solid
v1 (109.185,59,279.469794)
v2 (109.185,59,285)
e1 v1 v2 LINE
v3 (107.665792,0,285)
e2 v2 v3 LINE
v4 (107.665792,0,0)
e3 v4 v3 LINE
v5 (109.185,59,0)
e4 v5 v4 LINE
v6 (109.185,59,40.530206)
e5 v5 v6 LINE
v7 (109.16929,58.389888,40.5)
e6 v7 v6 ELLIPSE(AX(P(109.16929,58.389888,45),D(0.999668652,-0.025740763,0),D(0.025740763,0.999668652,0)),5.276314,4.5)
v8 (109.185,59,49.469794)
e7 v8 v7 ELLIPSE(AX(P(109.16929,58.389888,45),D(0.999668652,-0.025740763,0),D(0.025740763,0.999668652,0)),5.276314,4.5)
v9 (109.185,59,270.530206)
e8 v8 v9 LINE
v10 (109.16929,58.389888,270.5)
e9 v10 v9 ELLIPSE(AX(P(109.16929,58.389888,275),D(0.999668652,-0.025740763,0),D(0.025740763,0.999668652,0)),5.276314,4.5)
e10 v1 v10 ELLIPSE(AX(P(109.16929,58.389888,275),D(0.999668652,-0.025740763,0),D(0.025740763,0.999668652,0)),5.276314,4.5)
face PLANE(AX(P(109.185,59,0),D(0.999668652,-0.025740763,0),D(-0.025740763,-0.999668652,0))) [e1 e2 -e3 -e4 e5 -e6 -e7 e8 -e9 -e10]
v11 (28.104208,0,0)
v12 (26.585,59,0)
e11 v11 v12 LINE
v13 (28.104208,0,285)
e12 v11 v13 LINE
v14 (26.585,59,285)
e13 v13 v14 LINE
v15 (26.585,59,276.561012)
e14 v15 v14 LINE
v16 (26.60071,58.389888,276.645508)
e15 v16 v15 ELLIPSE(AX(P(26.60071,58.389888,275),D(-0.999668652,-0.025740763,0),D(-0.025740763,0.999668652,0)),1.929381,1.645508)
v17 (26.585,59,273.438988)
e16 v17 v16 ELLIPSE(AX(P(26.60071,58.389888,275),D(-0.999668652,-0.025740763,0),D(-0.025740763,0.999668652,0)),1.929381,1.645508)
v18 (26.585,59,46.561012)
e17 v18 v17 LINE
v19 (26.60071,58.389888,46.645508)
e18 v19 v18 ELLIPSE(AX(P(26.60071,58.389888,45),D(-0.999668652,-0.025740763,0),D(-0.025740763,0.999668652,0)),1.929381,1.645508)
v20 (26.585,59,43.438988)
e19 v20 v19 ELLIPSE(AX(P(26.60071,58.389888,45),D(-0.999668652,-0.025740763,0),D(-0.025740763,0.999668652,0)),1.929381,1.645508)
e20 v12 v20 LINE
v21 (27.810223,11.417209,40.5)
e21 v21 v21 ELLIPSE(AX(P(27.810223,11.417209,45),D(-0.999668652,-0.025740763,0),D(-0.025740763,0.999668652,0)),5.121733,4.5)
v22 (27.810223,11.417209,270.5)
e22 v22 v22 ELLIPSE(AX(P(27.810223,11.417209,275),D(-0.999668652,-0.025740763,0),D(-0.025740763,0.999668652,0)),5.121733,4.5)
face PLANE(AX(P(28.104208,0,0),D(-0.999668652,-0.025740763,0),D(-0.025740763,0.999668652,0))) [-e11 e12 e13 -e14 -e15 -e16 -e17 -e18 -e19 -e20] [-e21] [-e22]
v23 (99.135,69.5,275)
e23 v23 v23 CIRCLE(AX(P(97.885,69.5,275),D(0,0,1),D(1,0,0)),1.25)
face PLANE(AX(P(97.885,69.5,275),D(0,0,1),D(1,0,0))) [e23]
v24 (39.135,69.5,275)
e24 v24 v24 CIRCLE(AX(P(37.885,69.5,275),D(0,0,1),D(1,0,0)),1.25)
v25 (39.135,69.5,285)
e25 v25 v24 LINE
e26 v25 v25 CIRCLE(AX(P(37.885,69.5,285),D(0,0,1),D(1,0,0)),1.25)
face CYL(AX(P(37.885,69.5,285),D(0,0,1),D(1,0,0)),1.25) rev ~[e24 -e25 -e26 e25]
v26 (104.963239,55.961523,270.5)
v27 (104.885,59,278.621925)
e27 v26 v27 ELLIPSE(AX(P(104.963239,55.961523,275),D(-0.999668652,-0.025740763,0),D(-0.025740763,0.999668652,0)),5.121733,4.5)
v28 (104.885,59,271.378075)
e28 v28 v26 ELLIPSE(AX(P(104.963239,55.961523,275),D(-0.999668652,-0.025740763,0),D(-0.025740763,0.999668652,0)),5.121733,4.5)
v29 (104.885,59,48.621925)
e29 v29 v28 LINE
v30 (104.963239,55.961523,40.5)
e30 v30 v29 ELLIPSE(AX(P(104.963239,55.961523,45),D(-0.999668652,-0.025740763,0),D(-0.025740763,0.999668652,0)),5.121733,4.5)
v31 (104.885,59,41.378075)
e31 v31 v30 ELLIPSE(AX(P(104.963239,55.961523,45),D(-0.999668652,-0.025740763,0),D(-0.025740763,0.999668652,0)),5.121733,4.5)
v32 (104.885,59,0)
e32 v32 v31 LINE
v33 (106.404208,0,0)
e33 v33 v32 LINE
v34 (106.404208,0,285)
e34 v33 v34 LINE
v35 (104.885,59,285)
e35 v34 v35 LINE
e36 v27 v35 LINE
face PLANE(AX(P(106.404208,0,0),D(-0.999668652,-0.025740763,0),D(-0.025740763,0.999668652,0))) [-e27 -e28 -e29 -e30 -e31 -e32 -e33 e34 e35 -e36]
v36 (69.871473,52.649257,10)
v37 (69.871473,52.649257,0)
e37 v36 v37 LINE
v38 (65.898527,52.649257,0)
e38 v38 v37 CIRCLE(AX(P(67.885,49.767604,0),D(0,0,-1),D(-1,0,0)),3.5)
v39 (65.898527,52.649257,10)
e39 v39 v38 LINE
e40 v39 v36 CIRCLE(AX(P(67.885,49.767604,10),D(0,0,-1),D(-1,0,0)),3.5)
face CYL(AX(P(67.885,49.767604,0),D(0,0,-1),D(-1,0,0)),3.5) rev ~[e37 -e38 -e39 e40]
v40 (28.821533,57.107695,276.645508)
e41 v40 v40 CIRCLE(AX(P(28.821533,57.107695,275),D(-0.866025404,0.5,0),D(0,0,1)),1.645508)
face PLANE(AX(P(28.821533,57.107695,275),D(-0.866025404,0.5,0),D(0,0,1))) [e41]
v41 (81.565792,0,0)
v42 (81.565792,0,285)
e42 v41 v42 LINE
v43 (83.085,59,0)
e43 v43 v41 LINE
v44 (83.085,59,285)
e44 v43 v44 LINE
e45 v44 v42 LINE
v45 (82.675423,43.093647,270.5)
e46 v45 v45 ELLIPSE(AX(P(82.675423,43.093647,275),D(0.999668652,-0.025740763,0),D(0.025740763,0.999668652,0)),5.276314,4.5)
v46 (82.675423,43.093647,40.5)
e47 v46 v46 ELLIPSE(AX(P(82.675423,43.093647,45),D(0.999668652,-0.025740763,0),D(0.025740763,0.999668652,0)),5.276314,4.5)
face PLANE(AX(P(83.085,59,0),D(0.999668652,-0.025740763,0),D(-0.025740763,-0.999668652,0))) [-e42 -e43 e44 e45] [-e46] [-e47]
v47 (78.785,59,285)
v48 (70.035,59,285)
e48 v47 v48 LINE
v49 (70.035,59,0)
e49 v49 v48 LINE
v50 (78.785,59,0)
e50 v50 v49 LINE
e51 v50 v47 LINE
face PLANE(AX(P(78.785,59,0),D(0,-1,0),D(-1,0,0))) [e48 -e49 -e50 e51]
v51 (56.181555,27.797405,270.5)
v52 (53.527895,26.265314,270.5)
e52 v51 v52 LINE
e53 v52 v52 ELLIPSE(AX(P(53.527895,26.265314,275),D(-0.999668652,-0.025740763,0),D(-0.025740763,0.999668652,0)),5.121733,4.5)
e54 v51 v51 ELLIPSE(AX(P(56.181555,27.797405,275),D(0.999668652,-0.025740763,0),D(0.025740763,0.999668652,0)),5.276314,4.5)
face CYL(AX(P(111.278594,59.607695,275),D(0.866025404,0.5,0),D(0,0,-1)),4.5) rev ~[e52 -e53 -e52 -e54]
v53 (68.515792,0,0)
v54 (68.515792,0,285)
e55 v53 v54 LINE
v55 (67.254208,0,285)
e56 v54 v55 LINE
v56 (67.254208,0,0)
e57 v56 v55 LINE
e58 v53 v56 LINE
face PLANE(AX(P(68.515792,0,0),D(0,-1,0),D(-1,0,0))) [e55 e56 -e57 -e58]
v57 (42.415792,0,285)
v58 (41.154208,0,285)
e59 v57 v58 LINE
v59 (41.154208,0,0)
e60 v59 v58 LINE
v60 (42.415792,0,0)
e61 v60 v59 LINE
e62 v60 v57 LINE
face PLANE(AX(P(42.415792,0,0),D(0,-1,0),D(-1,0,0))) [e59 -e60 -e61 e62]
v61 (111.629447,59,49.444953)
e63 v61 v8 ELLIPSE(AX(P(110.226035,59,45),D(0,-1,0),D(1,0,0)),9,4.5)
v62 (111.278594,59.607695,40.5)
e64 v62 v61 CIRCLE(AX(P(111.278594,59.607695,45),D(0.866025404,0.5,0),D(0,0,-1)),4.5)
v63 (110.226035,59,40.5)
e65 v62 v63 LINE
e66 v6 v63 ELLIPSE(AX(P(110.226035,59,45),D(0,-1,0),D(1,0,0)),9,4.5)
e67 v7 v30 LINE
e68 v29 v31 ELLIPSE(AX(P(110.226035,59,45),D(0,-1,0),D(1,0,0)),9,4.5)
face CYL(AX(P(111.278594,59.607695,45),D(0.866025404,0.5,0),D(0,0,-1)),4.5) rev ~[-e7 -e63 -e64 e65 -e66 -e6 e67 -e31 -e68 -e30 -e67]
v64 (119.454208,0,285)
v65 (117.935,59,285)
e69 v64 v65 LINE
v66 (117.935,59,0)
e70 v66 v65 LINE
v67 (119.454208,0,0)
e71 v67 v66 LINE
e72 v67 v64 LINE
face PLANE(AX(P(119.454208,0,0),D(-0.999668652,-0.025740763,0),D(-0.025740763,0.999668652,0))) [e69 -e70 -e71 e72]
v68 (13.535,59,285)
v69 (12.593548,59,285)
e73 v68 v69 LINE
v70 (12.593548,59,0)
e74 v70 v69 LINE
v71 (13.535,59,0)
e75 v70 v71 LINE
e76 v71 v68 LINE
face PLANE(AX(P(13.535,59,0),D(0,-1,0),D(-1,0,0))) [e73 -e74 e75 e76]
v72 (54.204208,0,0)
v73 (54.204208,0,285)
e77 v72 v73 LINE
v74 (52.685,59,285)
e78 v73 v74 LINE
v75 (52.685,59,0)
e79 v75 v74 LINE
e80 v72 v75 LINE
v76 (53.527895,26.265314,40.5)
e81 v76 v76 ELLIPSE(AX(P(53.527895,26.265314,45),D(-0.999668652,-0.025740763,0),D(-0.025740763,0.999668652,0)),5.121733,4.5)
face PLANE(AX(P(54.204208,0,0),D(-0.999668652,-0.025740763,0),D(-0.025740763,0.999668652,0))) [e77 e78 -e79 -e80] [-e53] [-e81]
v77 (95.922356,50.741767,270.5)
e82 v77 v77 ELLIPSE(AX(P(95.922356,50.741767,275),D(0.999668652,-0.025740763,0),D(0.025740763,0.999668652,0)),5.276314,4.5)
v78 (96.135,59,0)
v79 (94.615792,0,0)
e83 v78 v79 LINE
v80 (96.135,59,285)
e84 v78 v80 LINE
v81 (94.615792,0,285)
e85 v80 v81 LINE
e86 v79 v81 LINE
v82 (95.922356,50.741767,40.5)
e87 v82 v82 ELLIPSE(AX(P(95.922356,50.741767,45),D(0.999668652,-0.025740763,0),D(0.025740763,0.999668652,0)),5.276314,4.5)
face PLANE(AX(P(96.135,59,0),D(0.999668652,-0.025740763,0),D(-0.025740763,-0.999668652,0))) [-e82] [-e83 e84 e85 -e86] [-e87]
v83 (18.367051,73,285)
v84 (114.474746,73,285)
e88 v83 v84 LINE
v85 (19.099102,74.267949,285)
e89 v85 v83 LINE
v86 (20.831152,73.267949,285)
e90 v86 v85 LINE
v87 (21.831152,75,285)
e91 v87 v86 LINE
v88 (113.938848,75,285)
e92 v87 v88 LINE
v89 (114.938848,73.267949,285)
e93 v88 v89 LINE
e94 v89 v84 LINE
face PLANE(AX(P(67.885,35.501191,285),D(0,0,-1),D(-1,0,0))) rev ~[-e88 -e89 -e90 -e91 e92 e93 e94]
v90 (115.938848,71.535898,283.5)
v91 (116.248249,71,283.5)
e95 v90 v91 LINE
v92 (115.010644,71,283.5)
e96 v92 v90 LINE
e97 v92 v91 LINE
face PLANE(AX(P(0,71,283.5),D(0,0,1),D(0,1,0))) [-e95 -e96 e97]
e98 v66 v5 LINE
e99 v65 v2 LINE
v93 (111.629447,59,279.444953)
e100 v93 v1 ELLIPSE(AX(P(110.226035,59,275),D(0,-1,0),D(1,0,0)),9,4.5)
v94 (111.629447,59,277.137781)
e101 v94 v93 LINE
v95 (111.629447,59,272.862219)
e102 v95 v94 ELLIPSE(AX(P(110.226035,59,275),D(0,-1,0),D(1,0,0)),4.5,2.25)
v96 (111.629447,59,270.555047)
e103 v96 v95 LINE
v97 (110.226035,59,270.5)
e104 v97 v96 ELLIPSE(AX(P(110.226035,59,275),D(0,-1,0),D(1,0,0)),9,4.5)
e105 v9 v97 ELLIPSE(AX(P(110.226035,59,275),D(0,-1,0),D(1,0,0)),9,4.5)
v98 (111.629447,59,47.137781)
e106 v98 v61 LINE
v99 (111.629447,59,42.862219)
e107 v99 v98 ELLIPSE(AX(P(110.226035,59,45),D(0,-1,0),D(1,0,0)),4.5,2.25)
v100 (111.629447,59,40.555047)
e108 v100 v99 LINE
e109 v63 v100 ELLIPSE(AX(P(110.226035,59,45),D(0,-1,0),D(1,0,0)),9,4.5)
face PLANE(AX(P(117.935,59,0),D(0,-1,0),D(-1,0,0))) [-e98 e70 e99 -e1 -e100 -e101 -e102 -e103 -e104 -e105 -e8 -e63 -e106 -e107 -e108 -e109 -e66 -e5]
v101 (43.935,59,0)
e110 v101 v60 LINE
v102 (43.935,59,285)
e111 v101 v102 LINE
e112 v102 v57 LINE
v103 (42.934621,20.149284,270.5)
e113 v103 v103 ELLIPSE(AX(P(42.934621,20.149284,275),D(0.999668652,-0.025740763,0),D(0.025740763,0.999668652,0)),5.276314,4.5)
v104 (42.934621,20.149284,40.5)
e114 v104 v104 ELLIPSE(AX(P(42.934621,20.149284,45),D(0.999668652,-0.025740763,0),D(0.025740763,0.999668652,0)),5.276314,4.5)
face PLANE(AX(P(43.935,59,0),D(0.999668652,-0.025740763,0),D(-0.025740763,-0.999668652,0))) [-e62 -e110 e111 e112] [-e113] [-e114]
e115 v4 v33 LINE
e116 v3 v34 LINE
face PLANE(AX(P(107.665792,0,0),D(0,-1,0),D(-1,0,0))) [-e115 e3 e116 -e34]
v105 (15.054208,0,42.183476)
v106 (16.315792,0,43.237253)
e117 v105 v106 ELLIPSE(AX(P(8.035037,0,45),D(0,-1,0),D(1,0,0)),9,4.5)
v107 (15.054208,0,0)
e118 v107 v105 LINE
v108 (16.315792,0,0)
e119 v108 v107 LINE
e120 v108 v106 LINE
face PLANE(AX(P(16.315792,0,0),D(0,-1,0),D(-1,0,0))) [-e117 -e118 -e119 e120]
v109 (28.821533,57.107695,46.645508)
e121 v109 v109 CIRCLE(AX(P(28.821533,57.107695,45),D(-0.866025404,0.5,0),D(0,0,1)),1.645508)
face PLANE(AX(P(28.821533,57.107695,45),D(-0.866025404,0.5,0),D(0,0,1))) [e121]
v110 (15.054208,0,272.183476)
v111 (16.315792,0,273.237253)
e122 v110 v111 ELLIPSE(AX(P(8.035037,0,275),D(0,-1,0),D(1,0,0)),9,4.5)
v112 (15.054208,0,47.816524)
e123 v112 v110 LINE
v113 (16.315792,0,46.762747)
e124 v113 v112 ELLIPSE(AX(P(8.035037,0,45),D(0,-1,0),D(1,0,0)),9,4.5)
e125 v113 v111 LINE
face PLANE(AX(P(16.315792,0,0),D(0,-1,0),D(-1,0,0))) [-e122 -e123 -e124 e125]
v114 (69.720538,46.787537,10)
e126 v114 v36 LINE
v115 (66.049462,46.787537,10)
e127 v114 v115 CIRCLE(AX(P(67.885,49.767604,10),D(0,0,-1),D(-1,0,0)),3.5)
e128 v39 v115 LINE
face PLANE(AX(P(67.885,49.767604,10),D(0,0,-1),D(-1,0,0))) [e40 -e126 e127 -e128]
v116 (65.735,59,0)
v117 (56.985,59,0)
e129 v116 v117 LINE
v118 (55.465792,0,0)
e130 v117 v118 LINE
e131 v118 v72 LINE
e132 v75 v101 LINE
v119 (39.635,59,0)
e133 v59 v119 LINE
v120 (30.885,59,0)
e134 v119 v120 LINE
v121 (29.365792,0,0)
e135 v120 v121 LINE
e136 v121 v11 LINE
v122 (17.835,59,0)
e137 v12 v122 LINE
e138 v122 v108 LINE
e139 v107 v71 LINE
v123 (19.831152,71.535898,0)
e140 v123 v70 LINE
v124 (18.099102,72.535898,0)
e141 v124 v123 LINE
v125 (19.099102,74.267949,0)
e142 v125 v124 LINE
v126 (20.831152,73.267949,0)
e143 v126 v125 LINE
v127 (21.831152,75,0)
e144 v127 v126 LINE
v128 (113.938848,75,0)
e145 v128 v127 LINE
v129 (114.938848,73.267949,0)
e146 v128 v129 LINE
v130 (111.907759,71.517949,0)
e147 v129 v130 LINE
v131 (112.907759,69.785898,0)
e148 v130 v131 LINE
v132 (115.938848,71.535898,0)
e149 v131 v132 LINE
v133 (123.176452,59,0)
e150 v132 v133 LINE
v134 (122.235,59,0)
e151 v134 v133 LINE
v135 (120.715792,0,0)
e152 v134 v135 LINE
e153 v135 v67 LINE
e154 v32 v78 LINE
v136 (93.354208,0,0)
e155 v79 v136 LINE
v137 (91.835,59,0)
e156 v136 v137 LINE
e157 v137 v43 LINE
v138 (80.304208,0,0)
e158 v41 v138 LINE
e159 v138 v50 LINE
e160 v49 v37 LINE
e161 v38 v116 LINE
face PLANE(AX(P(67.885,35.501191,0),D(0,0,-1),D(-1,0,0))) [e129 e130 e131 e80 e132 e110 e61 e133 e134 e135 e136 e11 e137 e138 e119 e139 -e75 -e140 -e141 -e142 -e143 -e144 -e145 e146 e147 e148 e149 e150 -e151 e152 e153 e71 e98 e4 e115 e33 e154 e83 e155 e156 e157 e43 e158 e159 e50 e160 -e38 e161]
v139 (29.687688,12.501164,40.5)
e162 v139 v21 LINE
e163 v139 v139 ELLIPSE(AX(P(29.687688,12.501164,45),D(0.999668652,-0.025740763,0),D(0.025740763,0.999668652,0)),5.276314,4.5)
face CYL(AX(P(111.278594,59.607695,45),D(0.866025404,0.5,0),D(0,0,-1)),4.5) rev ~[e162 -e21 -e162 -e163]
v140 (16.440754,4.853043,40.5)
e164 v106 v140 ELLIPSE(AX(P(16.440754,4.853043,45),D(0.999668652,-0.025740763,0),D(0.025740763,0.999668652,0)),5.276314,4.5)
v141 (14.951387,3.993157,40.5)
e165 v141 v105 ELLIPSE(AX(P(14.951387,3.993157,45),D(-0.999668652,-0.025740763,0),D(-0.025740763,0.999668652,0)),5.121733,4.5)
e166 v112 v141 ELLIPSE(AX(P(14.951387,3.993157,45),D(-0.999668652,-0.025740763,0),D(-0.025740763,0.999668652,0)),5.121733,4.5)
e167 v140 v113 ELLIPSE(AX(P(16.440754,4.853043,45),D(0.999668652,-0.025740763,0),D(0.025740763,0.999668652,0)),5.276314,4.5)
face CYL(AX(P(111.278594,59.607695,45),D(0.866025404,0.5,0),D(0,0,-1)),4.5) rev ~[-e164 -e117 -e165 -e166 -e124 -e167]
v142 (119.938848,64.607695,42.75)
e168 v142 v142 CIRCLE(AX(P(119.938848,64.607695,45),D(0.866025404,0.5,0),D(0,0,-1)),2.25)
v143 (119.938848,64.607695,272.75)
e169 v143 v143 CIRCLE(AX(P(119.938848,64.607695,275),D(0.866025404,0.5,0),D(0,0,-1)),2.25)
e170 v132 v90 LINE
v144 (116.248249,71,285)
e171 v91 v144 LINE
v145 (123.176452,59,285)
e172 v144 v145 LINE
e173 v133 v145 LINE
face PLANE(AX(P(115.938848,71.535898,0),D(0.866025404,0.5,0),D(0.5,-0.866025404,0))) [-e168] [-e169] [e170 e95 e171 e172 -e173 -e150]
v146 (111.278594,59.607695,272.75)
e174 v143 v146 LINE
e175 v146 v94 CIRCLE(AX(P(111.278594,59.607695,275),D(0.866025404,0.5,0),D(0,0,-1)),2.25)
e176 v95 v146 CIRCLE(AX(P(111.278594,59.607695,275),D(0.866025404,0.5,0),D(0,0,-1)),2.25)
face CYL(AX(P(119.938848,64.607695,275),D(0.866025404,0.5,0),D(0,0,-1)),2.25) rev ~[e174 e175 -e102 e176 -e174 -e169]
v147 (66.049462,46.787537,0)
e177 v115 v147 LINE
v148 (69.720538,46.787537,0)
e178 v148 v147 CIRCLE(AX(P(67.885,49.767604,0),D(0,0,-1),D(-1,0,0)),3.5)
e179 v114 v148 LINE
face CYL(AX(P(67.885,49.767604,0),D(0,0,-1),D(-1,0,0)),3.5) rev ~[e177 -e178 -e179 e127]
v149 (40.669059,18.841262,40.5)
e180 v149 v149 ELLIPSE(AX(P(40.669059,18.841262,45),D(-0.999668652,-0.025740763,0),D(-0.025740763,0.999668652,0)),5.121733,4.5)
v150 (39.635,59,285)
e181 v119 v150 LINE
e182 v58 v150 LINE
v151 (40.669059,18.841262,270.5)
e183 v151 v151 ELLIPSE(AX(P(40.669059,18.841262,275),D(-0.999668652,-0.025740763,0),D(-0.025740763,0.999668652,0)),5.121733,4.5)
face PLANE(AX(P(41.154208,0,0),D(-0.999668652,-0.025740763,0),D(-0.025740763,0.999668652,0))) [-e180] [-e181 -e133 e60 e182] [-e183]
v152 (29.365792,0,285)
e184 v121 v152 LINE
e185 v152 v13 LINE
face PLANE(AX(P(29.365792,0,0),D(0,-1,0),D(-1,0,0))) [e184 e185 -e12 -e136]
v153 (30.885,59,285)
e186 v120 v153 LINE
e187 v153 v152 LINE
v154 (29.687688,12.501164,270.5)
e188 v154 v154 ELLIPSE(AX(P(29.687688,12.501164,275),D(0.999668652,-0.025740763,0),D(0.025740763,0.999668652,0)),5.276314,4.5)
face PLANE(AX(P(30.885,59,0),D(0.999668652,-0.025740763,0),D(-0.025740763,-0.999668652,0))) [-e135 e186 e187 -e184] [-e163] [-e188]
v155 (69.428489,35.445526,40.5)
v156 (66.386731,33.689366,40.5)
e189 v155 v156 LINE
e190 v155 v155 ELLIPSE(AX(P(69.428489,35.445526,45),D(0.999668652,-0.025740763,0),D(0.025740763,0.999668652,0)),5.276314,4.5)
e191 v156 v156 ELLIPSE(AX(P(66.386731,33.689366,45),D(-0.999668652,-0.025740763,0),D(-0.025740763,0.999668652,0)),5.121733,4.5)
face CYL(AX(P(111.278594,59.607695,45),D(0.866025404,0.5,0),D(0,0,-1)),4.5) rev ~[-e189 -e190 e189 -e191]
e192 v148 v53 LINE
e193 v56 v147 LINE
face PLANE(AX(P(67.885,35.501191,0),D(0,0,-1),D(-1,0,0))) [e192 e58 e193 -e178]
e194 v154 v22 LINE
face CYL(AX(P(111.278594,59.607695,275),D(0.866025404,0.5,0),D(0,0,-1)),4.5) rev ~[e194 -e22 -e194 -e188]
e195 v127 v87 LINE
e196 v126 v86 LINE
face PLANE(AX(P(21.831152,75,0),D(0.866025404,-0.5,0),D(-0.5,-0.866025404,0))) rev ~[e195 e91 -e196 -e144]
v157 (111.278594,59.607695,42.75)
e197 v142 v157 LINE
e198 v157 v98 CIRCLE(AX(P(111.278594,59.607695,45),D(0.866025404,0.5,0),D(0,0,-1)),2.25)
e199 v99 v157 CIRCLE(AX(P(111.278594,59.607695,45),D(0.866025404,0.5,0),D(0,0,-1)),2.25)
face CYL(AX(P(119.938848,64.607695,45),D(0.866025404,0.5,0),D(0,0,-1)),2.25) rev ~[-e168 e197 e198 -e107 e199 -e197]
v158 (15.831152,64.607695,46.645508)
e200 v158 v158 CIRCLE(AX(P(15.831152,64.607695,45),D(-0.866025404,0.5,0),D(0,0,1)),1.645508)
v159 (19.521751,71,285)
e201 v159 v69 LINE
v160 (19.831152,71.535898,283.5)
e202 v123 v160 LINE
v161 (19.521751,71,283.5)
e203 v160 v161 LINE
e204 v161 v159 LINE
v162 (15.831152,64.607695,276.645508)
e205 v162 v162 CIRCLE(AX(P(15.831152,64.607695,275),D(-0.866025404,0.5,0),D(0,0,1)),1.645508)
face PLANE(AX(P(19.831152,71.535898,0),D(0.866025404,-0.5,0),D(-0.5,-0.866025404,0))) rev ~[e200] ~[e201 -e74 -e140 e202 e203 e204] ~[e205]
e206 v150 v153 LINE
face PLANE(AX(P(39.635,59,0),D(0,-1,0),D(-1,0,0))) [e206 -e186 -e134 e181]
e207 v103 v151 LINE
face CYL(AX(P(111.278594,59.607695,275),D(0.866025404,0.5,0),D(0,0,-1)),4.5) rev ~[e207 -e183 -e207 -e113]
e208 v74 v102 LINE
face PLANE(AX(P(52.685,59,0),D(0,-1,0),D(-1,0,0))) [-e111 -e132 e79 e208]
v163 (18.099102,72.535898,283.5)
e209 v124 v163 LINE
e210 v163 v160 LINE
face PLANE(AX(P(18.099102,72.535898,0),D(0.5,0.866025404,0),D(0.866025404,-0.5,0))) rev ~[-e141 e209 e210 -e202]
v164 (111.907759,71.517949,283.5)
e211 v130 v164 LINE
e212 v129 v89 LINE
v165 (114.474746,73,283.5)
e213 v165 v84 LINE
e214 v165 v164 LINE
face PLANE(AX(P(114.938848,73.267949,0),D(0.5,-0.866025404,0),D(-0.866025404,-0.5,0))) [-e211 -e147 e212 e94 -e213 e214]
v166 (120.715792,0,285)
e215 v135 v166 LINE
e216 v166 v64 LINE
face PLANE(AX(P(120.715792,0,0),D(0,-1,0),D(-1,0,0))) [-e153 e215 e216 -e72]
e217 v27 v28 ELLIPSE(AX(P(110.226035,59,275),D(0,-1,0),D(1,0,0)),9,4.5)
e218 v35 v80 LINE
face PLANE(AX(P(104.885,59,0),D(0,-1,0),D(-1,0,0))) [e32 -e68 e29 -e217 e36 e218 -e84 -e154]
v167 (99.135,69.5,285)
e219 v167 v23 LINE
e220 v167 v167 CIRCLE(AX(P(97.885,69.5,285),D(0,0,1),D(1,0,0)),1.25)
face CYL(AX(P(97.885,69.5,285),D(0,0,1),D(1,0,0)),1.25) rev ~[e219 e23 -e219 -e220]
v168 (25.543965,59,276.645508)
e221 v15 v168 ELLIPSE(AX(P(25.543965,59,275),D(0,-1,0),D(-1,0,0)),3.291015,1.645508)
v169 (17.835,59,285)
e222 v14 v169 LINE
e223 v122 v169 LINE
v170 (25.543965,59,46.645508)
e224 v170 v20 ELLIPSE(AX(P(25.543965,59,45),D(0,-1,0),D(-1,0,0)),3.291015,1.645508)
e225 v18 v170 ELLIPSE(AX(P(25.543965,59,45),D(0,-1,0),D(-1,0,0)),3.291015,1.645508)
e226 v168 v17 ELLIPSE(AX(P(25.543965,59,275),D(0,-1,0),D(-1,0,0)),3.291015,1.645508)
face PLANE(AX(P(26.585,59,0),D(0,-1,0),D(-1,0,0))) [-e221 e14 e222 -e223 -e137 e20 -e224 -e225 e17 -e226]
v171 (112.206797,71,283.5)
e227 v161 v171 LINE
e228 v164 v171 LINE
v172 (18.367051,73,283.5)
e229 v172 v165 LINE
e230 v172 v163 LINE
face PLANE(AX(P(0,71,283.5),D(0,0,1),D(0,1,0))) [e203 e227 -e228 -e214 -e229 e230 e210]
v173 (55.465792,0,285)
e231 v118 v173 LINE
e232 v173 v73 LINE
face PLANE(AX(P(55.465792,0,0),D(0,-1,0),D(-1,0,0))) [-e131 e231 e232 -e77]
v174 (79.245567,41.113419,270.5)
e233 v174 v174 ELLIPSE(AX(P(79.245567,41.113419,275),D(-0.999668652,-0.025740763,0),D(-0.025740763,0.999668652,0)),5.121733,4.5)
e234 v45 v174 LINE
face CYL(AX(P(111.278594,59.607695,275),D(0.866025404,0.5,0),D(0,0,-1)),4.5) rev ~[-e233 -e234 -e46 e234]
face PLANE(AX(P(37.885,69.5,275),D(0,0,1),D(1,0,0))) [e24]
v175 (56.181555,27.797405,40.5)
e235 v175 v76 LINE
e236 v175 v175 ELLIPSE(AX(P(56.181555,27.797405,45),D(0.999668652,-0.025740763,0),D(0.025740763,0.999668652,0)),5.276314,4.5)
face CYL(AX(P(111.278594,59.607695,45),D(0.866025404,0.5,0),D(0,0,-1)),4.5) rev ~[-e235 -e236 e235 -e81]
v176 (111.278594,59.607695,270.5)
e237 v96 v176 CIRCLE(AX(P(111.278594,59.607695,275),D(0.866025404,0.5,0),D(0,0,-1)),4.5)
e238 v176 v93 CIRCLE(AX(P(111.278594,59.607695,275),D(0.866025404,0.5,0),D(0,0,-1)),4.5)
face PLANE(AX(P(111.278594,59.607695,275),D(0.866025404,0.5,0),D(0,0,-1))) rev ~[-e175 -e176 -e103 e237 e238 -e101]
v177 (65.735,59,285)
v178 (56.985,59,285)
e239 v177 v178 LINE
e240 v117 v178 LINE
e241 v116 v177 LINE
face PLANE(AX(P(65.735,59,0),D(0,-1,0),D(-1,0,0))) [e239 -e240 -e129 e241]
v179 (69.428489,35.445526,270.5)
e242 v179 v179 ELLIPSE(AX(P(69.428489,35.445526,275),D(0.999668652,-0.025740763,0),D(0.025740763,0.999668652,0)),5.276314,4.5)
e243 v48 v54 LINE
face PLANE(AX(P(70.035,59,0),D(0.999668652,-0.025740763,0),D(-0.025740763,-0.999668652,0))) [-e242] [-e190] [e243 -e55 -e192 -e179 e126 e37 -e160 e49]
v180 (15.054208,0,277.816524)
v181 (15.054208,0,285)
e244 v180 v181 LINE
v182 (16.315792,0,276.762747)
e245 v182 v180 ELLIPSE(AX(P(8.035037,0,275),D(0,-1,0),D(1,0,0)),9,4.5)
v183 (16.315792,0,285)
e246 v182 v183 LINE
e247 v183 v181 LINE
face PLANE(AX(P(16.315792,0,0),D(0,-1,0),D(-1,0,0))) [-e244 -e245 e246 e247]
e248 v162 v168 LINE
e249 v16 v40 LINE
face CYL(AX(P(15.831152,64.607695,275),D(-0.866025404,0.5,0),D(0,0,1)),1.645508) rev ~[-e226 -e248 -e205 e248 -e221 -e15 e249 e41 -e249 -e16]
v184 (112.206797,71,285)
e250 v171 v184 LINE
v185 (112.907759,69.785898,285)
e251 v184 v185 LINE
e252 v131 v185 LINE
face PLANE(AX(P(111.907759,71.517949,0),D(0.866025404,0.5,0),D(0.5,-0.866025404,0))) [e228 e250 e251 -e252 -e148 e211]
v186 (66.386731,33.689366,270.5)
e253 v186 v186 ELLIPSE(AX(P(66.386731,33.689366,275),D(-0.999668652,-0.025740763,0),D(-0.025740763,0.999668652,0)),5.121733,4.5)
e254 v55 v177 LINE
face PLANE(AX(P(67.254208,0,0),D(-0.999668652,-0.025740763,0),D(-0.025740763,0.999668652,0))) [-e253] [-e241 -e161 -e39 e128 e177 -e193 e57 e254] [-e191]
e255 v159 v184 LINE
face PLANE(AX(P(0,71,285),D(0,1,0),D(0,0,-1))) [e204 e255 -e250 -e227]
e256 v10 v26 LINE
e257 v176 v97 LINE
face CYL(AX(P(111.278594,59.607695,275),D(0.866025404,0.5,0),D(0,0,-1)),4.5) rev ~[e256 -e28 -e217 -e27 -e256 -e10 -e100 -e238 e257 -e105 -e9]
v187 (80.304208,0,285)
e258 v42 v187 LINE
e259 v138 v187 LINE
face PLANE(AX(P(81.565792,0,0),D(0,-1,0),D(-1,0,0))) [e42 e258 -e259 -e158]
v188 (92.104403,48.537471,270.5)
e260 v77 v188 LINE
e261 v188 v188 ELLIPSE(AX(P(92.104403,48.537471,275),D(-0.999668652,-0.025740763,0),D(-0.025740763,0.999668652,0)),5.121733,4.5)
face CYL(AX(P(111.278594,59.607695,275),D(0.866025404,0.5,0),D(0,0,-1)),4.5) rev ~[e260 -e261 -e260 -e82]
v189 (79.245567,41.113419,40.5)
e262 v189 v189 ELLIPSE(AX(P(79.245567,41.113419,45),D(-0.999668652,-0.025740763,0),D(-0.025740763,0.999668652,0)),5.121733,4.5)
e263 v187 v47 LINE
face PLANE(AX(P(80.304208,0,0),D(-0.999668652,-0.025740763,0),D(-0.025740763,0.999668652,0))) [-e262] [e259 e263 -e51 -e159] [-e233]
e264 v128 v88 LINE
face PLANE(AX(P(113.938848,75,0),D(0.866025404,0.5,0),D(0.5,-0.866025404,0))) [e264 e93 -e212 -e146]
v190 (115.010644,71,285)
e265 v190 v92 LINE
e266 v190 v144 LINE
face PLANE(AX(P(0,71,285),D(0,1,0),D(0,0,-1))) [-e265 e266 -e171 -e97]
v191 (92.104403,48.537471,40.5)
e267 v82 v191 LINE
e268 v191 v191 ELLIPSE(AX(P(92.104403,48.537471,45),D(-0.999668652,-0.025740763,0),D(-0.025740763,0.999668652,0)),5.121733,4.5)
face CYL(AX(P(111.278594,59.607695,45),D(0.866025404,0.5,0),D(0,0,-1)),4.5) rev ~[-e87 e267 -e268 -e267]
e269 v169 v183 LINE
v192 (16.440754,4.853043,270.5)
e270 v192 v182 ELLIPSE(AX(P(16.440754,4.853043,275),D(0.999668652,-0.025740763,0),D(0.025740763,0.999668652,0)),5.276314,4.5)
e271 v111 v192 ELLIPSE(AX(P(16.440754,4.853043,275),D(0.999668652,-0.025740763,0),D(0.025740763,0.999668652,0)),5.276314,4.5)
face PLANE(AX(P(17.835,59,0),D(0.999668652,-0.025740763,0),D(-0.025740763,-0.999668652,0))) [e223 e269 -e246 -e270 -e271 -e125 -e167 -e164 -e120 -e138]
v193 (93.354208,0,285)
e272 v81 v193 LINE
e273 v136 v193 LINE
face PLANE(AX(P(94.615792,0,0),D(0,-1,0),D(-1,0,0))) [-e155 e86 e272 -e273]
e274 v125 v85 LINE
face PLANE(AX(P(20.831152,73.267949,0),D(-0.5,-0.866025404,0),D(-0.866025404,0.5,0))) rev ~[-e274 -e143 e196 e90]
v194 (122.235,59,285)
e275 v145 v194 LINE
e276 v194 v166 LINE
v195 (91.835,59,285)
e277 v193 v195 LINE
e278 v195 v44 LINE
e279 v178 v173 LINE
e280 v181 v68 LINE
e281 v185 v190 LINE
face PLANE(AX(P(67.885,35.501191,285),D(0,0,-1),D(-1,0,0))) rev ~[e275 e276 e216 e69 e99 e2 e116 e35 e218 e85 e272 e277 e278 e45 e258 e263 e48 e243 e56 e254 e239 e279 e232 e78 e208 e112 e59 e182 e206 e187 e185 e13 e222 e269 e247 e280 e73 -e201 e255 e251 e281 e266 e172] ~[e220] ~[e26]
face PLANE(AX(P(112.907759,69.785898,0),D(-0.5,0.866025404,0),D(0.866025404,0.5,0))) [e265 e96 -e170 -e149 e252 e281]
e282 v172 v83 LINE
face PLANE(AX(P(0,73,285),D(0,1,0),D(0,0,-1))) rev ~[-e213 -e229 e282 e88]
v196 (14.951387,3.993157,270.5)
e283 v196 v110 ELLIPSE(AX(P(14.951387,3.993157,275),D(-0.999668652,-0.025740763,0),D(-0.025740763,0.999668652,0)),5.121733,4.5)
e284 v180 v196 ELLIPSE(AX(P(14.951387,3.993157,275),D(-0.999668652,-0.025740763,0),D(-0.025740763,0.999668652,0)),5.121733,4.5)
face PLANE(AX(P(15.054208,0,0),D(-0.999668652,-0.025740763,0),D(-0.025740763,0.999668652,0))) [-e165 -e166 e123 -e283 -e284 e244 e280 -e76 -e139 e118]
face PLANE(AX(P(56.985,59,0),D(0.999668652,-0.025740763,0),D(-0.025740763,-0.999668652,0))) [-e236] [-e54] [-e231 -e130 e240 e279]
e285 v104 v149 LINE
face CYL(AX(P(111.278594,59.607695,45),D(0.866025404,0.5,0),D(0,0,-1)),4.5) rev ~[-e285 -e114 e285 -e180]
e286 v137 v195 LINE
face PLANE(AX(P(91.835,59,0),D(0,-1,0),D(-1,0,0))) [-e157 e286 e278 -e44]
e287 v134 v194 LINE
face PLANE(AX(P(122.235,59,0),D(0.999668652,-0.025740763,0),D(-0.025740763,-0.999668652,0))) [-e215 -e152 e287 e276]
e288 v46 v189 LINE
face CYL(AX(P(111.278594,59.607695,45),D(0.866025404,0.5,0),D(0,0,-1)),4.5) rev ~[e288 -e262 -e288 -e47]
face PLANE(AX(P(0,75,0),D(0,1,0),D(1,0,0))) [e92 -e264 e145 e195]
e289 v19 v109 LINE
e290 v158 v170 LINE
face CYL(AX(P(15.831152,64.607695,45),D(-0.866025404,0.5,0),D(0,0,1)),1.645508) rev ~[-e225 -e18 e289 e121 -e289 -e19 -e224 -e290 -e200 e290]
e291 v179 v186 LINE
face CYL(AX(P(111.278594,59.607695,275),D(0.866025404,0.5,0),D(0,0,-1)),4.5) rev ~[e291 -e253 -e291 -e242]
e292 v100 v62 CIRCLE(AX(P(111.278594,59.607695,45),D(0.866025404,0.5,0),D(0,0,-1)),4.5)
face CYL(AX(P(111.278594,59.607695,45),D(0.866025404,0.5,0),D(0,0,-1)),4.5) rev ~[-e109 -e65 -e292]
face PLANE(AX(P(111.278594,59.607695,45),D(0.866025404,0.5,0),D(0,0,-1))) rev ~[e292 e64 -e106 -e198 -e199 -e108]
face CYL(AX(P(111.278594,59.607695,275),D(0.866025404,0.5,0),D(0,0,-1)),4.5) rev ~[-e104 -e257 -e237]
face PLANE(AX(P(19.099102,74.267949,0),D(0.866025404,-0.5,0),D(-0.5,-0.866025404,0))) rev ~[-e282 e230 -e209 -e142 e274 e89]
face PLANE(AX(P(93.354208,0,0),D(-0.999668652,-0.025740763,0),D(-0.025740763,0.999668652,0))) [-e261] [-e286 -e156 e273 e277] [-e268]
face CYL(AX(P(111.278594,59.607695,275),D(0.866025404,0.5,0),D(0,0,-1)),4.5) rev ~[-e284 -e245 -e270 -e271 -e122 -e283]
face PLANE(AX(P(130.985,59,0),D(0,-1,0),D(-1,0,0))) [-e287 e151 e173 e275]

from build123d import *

# Parameters (mm, degrees)
RESSALTO_EXTRUS_O1_DEPTH   = 285
CORTE_EXTRUS_O1_DEPTH      = 1
CORTE_EXTRUS_O1_DEPTH_BACK = 286
ESBO_O3_R                  = 2.25
CORTE_EXTRUS_O2_DEPTH      = 130
ESBO_O4_R                  = 1.645507678
CORTE_EXTRUS_O3_DEPTH      = 15
ESBO_O5_R                  = 3.5
CORTE_EXTRUS_O4_DEPTH      = 10
CORTE_EXTRUS_O5_START      = -10
ESBO_O6_R                  = 4.5
CORTE_EXTRUS_O5_DEPTH      = 120
ESBO_O7_W                  = 1.5
ESBO_O7_H                  = 2
CORTE_EXTRUS_O6_DEPTH      = 124.176451884
CORTE_EXTRUS_O6_DEPTH_BACK = 1
ESBO_O8_R                  = 1.25
CORTE_EXTRUS_O7_DEPTH      = 10


with BuildPart() as part:
    # Esboço1 → Ressalto-extrusão1 (new body)
    with BuildSketch(Plane.XY):
        Polygon((0, 75), (135.77, 75), (135.77, 0), (132.504208406, 0), (130.985, 59), (122.235, 59), (120.715791594, 0), (119.454208406, 0), (117.935, 59), (109.185, 59), (107.665791594, 0), (106.404208406, 0), (104.885, 59), (96.135, 59), (94.615791594, 0), (93.354208406, 0), (91.835, 59), (83.085, 59), (81.565791594, 0), (80.304208406, 0), (78.785, 59), (70.035, 59), (68.515791594, 0), (67.254208406, 0), (65.735, 59), (56.985, 59), (55.465791594, 0), (54.204208406, 0), (52.685, 59), (43.935, 59), (42.415791594, 0), (41.154208406, 0), (39.635, 59), (30.885, 59), (29.365791594, 0), (28.104208406, 0), (26.585, 59), (17.835, 59), (16.315791594, 0), (15.054208406, 0), (13.535, 59), (4.785, 59), (3.265791594, 0), (0, 0), align=None)
    extrude(amount=RESSALTO_EXTRUS_O1_DEPTH)

    # Esboço2 → Corte-extrusão1 (cut, two sides)
    with BuildSketch(Plane(origin=(0, 0, 0), x_dir=(-1, 0, 0), z_dir=(0, 0, -1))) as corte_extrus_o1_sk:
        Polygon((-21.831152423, 75), (-20.831152423, 73.267949192), (-19.099101615, 74.267949192), (-18.099101615, 72.535898385), (-19.831152423, 71.535898385), (-12.593548116, 59), (-12.593548116, -2.874547604), (9.502168499, -2.874547604), (9.502168499, 75), align=None)
        Polygon((-113.938847577, 75), (-114.938847577, 73.267949192), (-111.907758664, 71.517949192), (-112.907758664, 69.785898385), (-115.938847577, 71.535898385), (-123.176451884, 59), (-123.176451884, -2.874547604), (-142.207346128, -2.874547604), (-142.207346128, 78.515038313), (-113.938847577, 78.515038313), align=None)
    extrude(amount=CORTE_EXTRUS_O1_DEPTH, mode=Mode.SUBTRACT)
    extrude(corte_extrus_o1_sk.sketch, amount=-CORTE_EXTRUS_O1_DEPTH_BACK, mode=Mode.SUBTRACT)

    # Esboço3 → Corte-extrusão2 (cut)
    with BuildSketch(Plane(origin=(117.930088325, 68.08696824, 0), x_dir=(0, 0, -1), z_dir=(0.866025404, 0.5, 0))):
        with Locations((-275, -4.017518505)):
            Circle(ESBO_O3_R)
        with Locations((-45, -4.017518505)):
            Circle(ESBO_O3_R)
    extrude(amount=-CORTE_EXTRUS_O2_DEPTH, mode=Mode.SUBTRACT)

    # Esboço4 → Corte-extrusão3 (cut)
    with BuildSketch(Plane(origin=(-16.102588325, 9.296833704, 0), x_dir=(0, 0, 1), z_dir=(-0.866025404, 0.5, 0))):
        with Locations((45, 63.867481495)):
            Circle(ESBO_O4_R)
        with Locations((275, 63.867481495)):
            Circle(ESBO_O4_R)
    extrude(amount=-CORTE_EXTRUS_O3_DEPTH, mode=Mode.SUBTRACT)

    # Esboço5 → Corte-extrusão4 (cut)
    with BuildSketch(Plane(origin=(0, 0, 0), x_dir=(-1, 0, 0), z_dir=(0, 0, -1))):
        with Locations((-67.885, 49.767603925)):
            Circle(ESBO_O5_R)
    extrude(amount=-CORTE_EXTRUS_O4_DEPTH, mode=Mode.SUBTRACT)

    # Esboço6 → Corte-extrusão5 (cut)
    with BuildSketch(Plane(origin=(117.930088325, 68.08696824, 0), x_dir=(0, 0, -1), z_dir=(0.866025404, 0.5, 0)).offset(CORTE_EXTRUS_O5_START)):
        with Locations((-275, -4.017518505)):
            Circle(ESBO_O6_R)
        with Locations((-45, -4.017518505)):
            Circle(ESBO_O6_R)
    extrude(amount=-CORTE_EXTRUS_O5_DEPTH, mode=Mode.SUBTRACT)

    # Esboço7 → Corte-extrusão6 (cut, two sides)
    with BuildSketch(Plane(origin=(0, 36.48769631, 0), x_dir=(0, 0, -1), z_dir=(1, 0, 0))) as corte_extrus_o6_sk:
        with Locations((-284.25, 35.51230369)):
            Rectangle(ESBO_O7_W, ESBO_O7_H)
    extrude(amount=CORTE_EXTRUS_O6_DEPTH, mode=Mode.SUBTRACT)
    extrude(corte_extrus_o6_sk.sketch, amount=-CORTE_EXTRUS_O6_DEPTH_BACK, mode=Mode.SUBTRACT)

    # Esboço8 → Corte-extrusão7 (cut)
    with BuildSketch(Plane.XY.offset(285)):
        with Locations((37.885, 69.5)):
            Circle(ESBO_O8_R)
        with Locations((97.885, 69.5)):
            Circle(ESBO_O8_R)
    extrude(amount=-CORTE_EXTRUS_O7_DEPTH, mode=Mode.SUBTRACT)


solid = part.part
